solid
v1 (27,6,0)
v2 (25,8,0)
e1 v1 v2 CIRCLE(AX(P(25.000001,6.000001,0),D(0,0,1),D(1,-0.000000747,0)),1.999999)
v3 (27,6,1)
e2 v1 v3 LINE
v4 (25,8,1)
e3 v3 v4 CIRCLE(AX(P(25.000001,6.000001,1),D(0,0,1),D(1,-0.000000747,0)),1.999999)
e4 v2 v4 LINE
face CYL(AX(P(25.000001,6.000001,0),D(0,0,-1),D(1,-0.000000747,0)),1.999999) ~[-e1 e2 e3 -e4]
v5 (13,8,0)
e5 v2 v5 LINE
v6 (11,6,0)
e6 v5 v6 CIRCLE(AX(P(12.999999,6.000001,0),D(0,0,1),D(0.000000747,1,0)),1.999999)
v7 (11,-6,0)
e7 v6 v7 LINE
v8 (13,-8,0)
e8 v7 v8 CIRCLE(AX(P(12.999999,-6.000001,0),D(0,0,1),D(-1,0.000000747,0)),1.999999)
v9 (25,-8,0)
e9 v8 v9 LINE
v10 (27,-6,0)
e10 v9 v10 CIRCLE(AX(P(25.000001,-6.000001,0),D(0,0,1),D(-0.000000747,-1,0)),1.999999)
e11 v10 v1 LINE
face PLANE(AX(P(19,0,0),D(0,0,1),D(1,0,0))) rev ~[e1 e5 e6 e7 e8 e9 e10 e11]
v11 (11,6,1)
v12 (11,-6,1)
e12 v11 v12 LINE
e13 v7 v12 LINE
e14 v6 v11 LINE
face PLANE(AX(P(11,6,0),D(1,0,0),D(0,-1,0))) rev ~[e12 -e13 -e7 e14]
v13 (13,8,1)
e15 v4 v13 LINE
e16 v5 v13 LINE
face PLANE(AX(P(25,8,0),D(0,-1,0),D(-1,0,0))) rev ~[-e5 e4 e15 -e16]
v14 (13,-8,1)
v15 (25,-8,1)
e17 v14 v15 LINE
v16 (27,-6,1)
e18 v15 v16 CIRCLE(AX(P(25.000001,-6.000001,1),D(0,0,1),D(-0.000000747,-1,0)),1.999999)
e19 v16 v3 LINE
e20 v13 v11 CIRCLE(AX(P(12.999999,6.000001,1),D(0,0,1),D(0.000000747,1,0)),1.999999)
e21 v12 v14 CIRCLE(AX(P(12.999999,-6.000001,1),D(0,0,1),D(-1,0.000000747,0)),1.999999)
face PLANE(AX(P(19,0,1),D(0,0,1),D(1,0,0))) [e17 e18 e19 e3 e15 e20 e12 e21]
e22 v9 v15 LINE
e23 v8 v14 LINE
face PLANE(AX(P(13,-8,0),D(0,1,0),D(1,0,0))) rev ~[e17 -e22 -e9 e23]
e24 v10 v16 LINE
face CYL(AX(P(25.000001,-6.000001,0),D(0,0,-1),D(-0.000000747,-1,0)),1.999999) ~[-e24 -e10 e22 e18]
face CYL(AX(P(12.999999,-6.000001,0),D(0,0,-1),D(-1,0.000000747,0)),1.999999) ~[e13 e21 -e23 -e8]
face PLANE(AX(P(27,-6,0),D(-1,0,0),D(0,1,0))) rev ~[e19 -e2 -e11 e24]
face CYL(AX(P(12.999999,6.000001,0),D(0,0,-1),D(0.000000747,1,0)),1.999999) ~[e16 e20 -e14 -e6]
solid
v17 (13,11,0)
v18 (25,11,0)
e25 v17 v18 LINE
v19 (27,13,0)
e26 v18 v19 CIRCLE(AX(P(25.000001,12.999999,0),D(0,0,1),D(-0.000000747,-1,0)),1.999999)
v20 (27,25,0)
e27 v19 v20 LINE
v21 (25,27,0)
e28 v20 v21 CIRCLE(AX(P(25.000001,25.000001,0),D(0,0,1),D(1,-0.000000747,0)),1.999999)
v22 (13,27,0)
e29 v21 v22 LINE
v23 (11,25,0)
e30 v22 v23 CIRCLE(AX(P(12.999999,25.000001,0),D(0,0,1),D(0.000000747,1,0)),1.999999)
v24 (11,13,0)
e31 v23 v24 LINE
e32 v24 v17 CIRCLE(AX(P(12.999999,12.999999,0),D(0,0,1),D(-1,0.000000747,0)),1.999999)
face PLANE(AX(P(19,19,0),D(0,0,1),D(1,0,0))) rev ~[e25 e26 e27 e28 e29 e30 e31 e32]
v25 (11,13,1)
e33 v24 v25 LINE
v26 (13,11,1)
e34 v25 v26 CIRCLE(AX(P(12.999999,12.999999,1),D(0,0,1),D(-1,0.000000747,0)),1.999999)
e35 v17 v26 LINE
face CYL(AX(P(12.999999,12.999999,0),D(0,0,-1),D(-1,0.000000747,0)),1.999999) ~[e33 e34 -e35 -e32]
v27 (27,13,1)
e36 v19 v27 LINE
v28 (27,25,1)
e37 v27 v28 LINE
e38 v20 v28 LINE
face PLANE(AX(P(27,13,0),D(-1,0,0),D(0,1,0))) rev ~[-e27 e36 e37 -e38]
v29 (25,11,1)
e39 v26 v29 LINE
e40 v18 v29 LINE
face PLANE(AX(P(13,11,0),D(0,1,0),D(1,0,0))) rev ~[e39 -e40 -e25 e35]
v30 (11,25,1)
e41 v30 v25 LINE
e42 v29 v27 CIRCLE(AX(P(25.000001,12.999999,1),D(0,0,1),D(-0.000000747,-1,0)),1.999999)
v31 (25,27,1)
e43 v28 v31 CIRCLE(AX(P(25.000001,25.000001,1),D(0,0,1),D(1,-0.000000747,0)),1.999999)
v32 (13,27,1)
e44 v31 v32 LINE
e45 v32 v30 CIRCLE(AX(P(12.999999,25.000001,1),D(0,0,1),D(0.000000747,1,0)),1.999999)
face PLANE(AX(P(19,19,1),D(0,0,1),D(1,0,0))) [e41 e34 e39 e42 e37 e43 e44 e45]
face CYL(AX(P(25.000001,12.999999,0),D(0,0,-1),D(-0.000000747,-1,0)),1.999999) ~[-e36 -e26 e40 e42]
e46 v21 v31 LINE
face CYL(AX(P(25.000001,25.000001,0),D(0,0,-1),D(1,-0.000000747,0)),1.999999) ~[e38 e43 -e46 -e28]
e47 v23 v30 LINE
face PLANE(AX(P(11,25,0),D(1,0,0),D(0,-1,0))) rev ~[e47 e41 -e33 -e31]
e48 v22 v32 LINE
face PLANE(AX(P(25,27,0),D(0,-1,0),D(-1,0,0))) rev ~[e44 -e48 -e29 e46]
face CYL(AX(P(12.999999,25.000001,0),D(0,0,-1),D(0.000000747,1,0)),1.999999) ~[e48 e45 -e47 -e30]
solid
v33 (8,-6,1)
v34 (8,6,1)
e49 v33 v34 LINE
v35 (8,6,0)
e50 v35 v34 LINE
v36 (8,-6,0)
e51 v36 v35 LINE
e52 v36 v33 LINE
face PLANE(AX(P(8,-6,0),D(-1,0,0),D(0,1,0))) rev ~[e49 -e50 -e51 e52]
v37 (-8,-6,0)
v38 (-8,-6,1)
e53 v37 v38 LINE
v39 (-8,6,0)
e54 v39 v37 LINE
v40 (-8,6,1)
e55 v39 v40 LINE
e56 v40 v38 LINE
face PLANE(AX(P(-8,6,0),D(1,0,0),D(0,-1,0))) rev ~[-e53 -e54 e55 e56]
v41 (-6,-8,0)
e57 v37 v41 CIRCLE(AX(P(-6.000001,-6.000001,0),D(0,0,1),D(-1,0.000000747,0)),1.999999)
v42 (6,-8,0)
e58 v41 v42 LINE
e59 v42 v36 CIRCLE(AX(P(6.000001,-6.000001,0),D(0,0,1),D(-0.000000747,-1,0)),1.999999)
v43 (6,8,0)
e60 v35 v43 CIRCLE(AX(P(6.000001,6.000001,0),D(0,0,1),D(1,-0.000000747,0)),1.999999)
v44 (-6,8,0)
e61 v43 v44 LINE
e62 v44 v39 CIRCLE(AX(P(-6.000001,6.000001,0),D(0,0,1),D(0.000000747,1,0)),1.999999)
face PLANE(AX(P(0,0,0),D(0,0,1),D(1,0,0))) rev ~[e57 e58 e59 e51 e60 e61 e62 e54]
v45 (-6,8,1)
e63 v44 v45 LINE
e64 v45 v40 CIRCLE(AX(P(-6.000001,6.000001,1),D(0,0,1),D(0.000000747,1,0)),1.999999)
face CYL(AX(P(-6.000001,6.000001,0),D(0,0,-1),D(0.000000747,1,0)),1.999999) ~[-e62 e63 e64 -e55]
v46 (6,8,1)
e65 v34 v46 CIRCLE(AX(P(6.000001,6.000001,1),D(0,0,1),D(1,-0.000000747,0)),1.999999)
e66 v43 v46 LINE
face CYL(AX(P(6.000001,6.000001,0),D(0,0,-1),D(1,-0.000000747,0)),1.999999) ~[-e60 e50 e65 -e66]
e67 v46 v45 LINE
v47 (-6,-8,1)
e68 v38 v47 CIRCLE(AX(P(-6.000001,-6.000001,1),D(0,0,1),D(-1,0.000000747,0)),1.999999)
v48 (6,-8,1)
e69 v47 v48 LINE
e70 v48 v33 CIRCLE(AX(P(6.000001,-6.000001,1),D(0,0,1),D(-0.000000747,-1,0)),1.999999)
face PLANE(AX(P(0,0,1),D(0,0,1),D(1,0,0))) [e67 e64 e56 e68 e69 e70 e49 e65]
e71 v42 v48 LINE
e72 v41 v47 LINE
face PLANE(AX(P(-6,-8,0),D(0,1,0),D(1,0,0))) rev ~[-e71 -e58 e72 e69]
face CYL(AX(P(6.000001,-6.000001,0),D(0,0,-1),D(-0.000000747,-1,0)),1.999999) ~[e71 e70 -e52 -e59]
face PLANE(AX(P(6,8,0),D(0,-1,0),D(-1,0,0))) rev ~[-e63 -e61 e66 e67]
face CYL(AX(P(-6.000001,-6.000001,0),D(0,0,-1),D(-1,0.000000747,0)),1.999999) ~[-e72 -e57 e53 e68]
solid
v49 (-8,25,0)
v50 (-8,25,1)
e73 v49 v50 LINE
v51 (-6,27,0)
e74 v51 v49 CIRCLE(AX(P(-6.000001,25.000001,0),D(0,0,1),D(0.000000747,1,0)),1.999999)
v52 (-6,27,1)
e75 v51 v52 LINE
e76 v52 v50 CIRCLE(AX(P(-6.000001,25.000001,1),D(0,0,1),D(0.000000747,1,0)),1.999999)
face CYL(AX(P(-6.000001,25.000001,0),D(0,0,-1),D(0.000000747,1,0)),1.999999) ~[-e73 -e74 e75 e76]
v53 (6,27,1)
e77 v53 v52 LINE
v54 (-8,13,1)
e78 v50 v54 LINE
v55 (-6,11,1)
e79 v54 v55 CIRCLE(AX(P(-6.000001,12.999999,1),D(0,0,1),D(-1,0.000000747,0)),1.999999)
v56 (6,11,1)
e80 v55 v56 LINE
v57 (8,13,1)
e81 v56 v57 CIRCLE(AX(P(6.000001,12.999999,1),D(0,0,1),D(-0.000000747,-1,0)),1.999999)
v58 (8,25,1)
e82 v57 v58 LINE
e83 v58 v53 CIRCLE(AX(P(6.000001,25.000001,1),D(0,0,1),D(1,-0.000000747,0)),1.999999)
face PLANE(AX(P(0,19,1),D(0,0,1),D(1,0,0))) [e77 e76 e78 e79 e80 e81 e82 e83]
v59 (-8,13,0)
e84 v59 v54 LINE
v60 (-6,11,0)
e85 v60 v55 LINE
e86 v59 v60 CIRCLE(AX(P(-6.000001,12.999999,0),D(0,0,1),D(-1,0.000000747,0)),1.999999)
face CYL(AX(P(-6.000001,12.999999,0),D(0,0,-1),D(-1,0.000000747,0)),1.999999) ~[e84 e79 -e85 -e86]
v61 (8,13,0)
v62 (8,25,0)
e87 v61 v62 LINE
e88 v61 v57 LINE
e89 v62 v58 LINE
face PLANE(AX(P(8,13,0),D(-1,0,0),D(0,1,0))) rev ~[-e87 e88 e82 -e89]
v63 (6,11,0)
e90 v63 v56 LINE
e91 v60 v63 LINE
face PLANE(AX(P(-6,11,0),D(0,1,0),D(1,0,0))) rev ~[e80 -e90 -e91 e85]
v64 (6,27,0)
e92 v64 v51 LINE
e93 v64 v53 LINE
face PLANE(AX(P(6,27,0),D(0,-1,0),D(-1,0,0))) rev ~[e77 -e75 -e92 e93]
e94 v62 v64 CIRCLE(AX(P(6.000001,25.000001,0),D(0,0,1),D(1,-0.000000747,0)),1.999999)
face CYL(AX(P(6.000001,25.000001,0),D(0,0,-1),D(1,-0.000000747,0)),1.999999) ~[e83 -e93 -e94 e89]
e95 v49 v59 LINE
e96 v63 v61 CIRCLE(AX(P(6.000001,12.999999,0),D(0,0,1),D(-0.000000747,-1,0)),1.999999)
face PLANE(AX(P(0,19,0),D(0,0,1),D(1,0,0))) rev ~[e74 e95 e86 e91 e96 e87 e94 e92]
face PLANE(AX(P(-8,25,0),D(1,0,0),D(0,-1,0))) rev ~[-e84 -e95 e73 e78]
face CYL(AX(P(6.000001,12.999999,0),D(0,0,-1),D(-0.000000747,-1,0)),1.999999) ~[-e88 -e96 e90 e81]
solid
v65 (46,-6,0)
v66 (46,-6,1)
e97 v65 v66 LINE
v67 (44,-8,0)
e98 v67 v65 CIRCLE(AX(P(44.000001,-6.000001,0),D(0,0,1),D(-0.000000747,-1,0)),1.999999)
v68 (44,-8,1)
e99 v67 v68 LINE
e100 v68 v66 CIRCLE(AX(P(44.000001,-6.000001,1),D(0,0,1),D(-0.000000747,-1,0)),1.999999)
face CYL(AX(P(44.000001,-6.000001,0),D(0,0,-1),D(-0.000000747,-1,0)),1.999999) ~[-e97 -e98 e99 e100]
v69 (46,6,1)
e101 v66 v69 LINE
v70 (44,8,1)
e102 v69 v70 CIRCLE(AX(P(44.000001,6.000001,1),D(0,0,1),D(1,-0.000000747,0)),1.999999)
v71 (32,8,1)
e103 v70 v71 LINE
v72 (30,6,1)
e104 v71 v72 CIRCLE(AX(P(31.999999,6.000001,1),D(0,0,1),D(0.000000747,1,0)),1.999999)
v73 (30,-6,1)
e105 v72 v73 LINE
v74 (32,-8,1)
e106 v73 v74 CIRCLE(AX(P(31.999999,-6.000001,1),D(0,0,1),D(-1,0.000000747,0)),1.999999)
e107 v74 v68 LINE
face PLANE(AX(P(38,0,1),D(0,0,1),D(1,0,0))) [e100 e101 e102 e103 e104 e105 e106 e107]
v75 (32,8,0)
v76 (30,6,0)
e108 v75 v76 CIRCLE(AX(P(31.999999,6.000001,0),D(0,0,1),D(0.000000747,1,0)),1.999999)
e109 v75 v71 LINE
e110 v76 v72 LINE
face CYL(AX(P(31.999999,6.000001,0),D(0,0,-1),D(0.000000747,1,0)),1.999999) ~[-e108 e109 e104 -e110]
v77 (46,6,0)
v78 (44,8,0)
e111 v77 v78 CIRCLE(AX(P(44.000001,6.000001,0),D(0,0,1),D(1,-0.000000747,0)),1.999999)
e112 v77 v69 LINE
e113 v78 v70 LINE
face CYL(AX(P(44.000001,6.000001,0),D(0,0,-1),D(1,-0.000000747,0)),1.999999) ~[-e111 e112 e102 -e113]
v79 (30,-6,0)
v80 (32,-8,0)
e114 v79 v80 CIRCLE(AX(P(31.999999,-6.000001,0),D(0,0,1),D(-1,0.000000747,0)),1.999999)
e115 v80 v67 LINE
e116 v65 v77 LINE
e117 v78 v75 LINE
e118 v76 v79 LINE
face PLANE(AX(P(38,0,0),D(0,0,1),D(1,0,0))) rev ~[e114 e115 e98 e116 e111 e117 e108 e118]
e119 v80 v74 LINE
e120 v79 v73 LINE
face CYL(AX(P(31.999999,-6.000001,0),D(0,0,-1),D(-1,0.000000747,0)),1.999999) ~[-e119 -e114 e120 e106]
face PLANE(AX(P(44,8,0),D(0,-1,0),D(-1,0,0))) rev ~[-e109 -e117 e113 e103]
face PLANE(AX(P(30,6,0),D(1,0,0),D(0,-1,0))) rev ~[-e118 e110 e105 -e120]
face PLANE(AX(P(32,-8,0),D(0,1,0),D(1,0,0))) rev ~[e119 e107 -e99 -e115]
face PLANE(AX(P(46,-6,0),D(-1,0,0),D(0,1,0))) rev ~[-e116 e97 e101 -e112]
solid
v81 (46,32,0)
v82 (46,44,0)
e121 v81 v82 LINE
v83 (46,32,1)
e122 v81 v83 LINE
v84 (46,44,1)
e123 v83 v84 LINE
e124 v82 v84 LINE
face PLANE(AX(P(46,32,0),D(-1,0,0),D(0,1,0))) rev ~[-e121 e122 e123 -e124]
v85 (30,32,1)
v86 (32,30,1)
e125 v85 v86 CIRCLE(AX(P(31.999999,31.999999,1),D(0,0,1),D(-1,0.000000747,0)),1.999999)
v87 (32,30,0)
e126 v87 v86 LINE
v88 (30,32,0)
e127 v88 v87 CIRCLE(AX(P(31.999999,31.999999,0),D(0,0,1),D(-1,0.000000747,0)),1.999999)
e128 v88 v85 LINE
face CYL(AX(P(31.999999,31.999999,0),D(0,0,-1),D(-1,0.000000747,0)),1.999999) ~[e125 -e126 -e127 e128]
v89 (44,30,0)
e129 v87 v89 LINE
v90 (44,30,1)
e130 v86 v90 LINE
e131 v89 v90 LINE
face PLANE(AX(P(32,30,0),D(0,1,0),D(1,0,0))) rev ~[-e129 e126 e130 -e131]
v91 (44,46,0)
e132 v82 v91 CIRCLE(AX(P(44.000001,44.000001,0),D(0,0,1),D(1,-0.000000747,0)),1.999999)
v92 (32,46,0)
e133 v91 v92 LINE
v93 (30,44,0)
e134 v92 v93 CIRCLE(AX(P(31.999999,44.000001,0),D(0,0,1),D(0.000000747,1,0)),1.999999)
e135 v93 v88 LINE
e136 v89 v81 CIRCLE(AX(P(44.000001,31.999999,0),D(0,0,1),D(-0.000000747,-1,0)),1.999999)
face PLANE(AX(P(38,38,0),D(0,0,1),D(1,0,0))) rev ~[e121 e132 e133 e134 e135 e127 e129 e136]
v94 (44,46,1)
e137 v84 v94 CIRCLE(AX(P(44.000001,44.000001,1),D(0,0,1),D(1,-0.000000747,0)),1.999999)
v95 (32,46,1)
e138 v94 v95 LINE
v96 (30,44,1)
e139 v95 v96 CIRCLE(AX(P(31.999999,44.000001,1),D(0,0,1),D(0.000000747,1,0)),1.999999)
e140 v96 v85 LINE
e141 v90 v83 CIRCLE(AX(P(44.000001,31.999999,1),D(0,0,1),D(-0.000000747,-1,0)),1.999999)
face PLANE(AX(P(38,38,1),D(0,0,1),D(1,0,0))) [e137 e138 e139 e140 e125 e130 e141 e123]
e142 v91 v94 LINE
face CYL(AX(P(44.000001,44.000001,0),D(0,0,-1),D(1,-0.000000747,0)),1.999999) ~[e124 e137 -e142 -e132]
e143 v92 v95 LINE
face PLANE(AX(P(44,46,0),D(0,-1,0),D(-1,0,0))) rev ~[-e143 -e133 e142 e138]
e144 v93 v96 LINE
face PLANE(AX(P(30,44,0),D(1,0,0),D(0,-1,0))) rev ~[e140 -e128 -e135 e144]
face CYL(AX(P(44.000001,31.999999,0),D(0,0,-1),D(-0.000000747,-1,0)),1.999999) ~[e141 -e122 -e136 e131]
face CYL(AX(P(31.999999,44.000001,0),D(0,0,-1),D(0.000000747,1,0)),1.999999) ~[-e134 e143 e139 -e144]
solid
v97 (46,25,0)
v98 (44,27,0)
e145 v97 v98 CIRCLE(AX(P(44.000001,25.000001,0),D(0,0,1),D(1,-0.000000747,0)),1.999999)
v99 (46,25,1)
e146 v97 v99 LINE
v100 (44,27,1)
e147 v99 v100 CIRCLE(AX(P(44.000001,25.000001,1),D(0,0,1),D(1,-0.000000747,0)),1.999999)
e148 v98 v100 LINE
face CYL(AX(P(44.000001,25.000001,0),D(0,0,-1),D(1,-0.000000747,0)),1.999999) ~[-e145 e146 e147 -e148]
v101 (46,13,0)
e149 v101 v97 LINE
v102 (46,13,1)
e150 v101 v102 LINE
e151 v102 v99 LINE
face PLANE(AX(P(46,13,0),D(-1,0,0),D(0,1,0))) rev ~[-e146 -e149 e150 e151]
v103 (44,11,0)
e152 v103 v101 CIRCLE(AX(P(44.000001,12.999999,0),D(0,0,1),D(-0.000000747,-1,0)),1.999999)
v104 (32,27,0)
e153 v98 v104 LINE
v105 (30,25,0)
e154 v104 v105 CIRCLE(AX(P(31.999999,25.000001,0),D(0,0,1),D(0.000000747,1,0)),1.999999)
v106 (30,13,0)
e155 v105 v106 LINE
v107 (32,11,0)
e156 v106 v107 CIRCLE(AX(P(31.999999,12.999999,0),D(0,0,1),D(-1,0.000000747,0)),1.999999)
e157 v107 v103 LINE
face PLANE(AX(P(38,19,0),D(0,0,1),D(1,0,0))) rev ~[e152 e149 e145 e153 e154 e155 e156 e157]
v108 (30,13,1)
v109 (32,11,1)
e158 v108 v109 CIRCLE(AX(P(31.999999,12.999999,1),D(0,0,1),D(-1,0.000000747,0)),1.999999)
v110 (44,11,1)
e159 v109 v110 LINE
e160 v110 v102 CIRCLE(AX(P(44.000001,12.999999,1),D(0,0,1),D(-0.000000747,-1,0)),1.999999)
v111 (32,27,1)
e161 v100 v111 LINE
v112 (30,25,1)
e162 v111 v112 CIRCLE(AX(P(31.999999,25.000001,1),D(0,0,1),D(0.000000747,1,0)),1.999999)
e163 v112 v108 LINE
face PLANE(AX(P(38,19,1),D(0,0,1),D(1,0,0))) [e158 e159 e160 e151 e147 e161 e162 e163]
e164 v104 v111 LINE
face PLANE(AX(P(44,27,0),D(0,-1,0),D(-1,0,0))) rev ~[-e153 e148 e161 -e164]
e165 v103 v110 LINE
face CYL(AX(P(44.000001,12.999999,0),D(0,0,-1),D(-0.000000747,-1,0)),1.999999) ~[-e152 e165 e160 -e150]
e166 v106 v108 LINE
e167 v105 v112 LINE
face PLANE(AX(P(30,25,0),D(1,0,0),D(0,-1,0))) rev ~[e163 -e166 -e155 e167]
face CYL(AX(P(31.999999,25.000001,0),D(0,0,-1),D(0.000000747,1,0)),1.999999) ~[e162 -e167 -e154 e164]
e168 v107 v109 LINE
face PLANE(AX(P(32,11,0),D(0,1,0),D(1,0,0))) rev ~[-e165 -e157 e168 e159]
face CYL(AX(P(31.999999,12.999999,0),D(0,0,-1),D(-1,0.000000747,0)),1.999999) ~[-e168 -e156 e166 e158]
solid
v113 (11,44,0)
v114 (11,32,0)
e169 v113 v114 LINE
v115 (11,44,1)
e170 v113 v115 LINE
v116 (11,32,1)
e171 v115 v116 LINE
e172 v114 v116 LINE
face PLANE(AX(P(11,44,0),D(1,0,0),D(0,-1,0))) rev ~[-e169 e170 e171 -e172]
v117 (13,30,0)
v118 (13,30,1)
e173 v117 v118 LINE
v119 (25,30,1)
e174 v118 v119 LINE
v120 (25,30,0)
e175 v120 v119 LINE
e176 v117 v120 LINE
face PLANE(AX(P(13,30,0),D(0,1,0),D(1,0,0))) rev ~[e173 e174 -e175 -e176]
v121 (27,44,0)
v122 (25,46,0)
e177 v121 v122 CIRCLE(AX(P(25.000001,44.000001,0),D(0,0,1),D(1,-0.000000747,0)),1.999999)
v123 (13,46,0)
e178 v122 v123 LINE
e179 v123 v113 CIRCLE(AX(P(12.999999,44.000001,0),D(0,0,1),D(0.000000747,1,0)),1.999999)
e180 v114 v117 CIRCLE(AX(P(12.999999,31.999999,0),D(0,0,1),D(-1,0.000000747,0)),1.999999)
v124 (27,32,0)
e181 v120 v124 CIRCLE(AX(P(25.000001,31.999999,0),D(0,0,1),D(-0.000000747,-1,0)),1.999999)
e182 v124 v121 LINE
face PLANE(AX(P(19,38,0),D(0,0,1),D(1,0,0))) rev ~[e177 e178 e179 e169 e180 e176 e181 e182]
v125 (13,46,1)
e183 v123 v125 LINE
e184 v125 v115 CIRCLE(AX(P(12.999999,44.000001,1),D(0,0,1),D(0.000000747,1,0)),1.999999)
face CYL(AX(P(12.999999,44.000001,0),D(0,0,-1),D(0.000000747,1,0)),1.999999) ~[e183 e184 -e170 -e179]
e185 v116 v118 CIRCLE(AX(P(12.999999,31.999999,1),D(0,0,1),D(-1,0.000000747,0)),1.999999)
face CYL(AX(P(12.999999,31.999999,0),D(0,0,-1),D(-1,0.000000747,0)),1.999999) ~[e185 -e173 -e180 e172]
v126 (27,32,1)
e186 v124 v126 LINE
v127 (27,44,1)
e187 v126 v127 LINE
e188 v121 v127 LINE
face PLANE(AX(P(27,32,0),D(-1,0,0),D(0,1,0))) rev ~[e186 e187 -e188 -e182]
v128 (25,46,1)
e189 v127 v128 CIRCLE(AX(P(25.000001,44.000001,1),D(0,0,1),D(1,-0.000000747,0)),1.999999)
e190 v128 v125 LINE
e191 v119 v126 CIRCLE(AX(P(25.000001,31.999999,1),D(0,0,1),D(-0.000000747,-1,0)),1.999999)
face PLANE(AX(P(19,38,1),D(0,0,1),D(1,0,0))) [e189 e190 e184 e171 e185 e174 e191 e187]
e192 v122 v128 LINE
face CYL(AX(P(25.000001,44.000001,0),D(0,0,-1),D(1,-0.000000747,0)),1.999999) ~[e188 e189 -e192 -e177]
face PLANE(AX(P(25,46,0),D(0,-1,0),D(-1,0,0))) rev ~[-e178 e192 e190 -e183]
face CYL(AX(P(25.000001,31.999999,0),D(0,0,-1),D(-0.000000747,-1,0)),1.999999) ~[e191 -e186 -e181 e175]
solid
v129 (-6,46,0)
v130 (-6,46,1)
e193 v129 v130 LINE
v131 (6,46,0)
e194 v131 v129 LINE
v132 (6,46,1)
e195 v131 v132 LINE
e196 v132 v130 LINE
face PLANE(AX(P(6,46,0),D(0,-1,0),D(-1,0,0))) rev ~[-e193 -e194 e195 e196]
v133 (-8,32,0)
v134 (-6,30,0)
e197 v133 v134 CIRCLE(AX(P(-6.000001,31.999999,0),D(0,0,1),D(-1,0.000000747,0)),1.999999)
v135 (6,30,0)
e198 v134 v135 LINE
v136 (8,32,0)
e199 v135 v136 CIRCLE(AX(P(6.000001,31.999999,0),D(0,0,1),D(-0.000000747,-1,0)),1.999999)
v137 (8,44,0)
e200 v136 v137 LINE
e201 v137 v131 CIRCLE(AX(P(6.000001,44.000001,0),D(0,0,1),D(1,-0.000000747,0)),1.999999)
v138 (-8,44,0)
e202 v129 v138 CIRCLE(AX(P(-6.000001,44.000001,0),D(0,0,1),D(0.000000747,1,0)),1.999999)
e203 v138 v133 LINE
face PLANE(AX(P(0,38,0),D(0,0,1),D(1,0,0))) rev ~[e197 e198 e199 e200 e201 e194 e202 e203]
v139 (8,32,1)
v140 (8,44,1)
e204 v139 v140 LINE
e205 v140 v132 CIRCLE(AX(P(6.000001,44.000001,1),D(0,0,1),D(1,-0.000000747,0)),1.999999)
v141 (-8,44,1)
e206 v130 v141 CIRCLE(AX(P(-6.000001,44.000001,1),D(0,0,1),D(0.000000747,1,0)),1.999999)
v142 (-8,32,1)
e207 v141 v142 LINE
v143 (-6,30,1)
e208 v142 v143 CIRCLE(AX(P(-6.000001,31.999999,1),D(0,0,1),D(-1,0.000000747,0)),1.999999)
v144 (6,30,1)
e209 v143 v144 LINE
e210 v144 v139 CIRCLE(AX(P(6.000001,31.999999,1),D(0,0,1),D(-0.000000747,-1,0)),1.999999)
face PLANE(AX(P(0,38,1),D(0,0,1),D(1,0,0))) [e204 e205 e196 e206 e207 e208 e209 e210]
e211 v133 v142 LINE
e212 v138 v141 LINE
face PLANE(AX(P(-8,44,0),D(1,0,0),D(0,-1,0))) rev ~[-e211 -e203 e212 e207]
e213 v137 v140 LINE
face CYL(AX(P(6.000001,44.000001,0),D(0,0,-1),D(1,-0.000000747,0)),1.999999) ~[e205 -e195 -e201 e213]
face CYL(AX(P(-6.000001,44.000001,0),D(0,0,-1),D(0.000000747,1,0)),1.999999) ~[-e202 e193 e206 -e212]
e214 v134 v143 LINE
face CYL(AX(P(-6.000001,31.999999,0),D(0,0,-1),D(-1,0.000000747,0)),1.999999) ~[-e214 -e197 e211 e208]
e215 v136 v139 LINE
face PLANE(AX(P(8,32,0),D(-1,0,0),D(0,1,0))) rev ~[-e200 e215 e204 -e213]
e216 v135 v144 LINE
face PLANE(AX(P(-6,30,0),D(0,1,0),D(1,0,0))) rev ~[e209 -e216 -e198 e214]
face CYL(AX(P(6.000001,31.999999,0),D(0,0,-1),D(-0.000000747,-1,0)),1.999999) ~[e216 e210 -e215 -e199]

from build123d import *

# Parameters (mm, degrees)
F1_DEPTH = 1


with BuildPart() as f1:
    # F0 (on Top) → F1 (new body)
    with BuildSketch(Plane.XY):
        with BuildLine():
            ThreePointArc((8, 6), (7.414214, 7.414214), (6, 8))
            Line((6, 8), (-6, 8))
            ThreePointArc((-6, 8), (-7.414214, 7.414214), (-8, 6))
            Line((-8, 6), (-8, -6))
            ThreePointArc((-8, -6), (-7.414214, -7.414214), (-6, -8))
            Line((-6, -8), (6, -8))
            ThreePointArc((6, -8), (7.414214, -7.414214), (8, -6))
            Line((8, -6), (8, 6))
        make_face()
        with BuildLine():
            Line((-6, 11), (6, 11))
            ThreePointArc((6, 11), (7.414214, 11.585786), (8, 13))
            Line((8, 13), (8, 25))
            ThreePointArc((8, 25), (7.414214, 26.414214), (6, 27))
            Line((6, 27), (-6, 27))
            ThreePointArc((-6, 27), (-7.414214, 26.414214), (-8, 25))
            Line((-8, 25), (-8, 13))
            ThreePointArc((-8, 13), (-7.414214, 11.585786), (-6, 11))
        make_face()
        with BuildLine():
            Line((-6, 30), (6, 30))
            ThreePointArc((6, 30), (7.414214, 30.585786), (8, 32))
            Line((8, 32), (8, 44))
            ThreePointArc((8, 44), (7.414214, 45.414214), (6, 46))
            Line((6, 46), (-6, 46))
            ThreePointArc((-6, 46), (-7.414214, 45.414214), (-8, 44))
            Line((-8, 44), (-8, 32))
            ThreePointArc((-8, 32), (-7.414214, 30.585786), (-6, 30))
        make_face()
        with BuildLine():
            Line((13, -8), (25, -8))
            ThreePointArc((25, -8), (26.414214, -7.414214), (27, -6))
            Line((27, -6), (27, 6))
            ThreePointArc((27, 6), (26.414214, 7.414214), (25, 8))
            Line((25, 8), (13, 8))
            ThreePointArc((13, 8), (11.585786, 7.414214), (11, 6))
            Line((11, 6), (11, -6))
            ThreePointArc((11, -6), (11.585786, -7.414214), (13, -8))
        make_face()
        with BuildLine():
            Line((13, 11), (25, 11))
            ThreePointArc((25, 11), (26.414214, 11.585786), (27, 13))
            Line((27, 13), (27, 25))
            ThreePointArc((27, 25), (26.414214, 26.414214), (25, 27))
            Line((25, 27), (13, 27))
            ThreePointArc((13, 27), (11.585786, 26.414214), (11, 25))
            Line((11, 25), (11, 13))
            ThreePointArc((11, 13), (11.585786, 11.585786), (13, 11))
        make_face()
        with BuildLine():
            Line((13, 30), (25, 30))
            ThreePointArc((25, 30), (26.414214, 30.585786), (27, 32))
            Line((27, 32), (27, 44))
            ThreePointArc((27, 44), (26.414214, 45.414214), (25, 46))
            Line((25, 46), (13, 46))
            ThreePointArc((13, 46), (11.585786, 45.414214), (11, 44))
            Line((11, 44), (11, 32))
            ThreePointArc((11, 32), (11.585786, 30.585786), (13, 30))
        make_face()
        with BuildLine():
            Line((32, -8), (44, -8))
            ThreePointArc((44, -8), (45.414214, -7.414214), (46, -6))
            Line((46, -6), (46, 6))
            ThreePointArc((46, 6), (45.414214, 7.414214), (44, 8))
            Line((44, 8), (32, 8))
            ThreePointArc((32, 8), (30.585786, 7.414214), (30, 6))
            Line((30, 6), (30, -6))
            ThreePointArc((30, -6), (30.585786, -7.414214), (32, -8))
        make_face()
        with BuildLine():
            Line((32, 11), (44, 11))
            ThreePointArc((44, 11), (45.414214, 11.585786), (46, 13))
            Line((46, 13), (46, 25))
            ThreePointArc((46, 25), (45.414214, 26.414214), (44, 27))
            Line((44, 27), (32, 27))
            ThreePointArc((32, 27), (30.585786, 26.414214), (30, 25))
            Line((30, 25), (30, 13))
            ThreePointArc((30, 13), (30.585786, 11.585786), (32, 11))
        make_face()
        with BuildLine():
            Line((32, 30), (44, 30))
            ThreePointArc((44, 30), (45.414214, 30.585786), (46, 32))
            Line((46, 32), (46, 44))
            ThreePointArc((46, 44), (45.414214, 45.414214), (44, 46))
            Line((44, 46), (32, 46))
            ThreePointArc((32, 46), (30.585786, 45.414214), (30, 44))
            Line((30, 44), (30, 32))
            ThreePointArc((30, 32), (30.585786, 30.585786), (32, 30))
        make_face()
    extrude(amount=F1_DEPTH)


solid = f1.part
